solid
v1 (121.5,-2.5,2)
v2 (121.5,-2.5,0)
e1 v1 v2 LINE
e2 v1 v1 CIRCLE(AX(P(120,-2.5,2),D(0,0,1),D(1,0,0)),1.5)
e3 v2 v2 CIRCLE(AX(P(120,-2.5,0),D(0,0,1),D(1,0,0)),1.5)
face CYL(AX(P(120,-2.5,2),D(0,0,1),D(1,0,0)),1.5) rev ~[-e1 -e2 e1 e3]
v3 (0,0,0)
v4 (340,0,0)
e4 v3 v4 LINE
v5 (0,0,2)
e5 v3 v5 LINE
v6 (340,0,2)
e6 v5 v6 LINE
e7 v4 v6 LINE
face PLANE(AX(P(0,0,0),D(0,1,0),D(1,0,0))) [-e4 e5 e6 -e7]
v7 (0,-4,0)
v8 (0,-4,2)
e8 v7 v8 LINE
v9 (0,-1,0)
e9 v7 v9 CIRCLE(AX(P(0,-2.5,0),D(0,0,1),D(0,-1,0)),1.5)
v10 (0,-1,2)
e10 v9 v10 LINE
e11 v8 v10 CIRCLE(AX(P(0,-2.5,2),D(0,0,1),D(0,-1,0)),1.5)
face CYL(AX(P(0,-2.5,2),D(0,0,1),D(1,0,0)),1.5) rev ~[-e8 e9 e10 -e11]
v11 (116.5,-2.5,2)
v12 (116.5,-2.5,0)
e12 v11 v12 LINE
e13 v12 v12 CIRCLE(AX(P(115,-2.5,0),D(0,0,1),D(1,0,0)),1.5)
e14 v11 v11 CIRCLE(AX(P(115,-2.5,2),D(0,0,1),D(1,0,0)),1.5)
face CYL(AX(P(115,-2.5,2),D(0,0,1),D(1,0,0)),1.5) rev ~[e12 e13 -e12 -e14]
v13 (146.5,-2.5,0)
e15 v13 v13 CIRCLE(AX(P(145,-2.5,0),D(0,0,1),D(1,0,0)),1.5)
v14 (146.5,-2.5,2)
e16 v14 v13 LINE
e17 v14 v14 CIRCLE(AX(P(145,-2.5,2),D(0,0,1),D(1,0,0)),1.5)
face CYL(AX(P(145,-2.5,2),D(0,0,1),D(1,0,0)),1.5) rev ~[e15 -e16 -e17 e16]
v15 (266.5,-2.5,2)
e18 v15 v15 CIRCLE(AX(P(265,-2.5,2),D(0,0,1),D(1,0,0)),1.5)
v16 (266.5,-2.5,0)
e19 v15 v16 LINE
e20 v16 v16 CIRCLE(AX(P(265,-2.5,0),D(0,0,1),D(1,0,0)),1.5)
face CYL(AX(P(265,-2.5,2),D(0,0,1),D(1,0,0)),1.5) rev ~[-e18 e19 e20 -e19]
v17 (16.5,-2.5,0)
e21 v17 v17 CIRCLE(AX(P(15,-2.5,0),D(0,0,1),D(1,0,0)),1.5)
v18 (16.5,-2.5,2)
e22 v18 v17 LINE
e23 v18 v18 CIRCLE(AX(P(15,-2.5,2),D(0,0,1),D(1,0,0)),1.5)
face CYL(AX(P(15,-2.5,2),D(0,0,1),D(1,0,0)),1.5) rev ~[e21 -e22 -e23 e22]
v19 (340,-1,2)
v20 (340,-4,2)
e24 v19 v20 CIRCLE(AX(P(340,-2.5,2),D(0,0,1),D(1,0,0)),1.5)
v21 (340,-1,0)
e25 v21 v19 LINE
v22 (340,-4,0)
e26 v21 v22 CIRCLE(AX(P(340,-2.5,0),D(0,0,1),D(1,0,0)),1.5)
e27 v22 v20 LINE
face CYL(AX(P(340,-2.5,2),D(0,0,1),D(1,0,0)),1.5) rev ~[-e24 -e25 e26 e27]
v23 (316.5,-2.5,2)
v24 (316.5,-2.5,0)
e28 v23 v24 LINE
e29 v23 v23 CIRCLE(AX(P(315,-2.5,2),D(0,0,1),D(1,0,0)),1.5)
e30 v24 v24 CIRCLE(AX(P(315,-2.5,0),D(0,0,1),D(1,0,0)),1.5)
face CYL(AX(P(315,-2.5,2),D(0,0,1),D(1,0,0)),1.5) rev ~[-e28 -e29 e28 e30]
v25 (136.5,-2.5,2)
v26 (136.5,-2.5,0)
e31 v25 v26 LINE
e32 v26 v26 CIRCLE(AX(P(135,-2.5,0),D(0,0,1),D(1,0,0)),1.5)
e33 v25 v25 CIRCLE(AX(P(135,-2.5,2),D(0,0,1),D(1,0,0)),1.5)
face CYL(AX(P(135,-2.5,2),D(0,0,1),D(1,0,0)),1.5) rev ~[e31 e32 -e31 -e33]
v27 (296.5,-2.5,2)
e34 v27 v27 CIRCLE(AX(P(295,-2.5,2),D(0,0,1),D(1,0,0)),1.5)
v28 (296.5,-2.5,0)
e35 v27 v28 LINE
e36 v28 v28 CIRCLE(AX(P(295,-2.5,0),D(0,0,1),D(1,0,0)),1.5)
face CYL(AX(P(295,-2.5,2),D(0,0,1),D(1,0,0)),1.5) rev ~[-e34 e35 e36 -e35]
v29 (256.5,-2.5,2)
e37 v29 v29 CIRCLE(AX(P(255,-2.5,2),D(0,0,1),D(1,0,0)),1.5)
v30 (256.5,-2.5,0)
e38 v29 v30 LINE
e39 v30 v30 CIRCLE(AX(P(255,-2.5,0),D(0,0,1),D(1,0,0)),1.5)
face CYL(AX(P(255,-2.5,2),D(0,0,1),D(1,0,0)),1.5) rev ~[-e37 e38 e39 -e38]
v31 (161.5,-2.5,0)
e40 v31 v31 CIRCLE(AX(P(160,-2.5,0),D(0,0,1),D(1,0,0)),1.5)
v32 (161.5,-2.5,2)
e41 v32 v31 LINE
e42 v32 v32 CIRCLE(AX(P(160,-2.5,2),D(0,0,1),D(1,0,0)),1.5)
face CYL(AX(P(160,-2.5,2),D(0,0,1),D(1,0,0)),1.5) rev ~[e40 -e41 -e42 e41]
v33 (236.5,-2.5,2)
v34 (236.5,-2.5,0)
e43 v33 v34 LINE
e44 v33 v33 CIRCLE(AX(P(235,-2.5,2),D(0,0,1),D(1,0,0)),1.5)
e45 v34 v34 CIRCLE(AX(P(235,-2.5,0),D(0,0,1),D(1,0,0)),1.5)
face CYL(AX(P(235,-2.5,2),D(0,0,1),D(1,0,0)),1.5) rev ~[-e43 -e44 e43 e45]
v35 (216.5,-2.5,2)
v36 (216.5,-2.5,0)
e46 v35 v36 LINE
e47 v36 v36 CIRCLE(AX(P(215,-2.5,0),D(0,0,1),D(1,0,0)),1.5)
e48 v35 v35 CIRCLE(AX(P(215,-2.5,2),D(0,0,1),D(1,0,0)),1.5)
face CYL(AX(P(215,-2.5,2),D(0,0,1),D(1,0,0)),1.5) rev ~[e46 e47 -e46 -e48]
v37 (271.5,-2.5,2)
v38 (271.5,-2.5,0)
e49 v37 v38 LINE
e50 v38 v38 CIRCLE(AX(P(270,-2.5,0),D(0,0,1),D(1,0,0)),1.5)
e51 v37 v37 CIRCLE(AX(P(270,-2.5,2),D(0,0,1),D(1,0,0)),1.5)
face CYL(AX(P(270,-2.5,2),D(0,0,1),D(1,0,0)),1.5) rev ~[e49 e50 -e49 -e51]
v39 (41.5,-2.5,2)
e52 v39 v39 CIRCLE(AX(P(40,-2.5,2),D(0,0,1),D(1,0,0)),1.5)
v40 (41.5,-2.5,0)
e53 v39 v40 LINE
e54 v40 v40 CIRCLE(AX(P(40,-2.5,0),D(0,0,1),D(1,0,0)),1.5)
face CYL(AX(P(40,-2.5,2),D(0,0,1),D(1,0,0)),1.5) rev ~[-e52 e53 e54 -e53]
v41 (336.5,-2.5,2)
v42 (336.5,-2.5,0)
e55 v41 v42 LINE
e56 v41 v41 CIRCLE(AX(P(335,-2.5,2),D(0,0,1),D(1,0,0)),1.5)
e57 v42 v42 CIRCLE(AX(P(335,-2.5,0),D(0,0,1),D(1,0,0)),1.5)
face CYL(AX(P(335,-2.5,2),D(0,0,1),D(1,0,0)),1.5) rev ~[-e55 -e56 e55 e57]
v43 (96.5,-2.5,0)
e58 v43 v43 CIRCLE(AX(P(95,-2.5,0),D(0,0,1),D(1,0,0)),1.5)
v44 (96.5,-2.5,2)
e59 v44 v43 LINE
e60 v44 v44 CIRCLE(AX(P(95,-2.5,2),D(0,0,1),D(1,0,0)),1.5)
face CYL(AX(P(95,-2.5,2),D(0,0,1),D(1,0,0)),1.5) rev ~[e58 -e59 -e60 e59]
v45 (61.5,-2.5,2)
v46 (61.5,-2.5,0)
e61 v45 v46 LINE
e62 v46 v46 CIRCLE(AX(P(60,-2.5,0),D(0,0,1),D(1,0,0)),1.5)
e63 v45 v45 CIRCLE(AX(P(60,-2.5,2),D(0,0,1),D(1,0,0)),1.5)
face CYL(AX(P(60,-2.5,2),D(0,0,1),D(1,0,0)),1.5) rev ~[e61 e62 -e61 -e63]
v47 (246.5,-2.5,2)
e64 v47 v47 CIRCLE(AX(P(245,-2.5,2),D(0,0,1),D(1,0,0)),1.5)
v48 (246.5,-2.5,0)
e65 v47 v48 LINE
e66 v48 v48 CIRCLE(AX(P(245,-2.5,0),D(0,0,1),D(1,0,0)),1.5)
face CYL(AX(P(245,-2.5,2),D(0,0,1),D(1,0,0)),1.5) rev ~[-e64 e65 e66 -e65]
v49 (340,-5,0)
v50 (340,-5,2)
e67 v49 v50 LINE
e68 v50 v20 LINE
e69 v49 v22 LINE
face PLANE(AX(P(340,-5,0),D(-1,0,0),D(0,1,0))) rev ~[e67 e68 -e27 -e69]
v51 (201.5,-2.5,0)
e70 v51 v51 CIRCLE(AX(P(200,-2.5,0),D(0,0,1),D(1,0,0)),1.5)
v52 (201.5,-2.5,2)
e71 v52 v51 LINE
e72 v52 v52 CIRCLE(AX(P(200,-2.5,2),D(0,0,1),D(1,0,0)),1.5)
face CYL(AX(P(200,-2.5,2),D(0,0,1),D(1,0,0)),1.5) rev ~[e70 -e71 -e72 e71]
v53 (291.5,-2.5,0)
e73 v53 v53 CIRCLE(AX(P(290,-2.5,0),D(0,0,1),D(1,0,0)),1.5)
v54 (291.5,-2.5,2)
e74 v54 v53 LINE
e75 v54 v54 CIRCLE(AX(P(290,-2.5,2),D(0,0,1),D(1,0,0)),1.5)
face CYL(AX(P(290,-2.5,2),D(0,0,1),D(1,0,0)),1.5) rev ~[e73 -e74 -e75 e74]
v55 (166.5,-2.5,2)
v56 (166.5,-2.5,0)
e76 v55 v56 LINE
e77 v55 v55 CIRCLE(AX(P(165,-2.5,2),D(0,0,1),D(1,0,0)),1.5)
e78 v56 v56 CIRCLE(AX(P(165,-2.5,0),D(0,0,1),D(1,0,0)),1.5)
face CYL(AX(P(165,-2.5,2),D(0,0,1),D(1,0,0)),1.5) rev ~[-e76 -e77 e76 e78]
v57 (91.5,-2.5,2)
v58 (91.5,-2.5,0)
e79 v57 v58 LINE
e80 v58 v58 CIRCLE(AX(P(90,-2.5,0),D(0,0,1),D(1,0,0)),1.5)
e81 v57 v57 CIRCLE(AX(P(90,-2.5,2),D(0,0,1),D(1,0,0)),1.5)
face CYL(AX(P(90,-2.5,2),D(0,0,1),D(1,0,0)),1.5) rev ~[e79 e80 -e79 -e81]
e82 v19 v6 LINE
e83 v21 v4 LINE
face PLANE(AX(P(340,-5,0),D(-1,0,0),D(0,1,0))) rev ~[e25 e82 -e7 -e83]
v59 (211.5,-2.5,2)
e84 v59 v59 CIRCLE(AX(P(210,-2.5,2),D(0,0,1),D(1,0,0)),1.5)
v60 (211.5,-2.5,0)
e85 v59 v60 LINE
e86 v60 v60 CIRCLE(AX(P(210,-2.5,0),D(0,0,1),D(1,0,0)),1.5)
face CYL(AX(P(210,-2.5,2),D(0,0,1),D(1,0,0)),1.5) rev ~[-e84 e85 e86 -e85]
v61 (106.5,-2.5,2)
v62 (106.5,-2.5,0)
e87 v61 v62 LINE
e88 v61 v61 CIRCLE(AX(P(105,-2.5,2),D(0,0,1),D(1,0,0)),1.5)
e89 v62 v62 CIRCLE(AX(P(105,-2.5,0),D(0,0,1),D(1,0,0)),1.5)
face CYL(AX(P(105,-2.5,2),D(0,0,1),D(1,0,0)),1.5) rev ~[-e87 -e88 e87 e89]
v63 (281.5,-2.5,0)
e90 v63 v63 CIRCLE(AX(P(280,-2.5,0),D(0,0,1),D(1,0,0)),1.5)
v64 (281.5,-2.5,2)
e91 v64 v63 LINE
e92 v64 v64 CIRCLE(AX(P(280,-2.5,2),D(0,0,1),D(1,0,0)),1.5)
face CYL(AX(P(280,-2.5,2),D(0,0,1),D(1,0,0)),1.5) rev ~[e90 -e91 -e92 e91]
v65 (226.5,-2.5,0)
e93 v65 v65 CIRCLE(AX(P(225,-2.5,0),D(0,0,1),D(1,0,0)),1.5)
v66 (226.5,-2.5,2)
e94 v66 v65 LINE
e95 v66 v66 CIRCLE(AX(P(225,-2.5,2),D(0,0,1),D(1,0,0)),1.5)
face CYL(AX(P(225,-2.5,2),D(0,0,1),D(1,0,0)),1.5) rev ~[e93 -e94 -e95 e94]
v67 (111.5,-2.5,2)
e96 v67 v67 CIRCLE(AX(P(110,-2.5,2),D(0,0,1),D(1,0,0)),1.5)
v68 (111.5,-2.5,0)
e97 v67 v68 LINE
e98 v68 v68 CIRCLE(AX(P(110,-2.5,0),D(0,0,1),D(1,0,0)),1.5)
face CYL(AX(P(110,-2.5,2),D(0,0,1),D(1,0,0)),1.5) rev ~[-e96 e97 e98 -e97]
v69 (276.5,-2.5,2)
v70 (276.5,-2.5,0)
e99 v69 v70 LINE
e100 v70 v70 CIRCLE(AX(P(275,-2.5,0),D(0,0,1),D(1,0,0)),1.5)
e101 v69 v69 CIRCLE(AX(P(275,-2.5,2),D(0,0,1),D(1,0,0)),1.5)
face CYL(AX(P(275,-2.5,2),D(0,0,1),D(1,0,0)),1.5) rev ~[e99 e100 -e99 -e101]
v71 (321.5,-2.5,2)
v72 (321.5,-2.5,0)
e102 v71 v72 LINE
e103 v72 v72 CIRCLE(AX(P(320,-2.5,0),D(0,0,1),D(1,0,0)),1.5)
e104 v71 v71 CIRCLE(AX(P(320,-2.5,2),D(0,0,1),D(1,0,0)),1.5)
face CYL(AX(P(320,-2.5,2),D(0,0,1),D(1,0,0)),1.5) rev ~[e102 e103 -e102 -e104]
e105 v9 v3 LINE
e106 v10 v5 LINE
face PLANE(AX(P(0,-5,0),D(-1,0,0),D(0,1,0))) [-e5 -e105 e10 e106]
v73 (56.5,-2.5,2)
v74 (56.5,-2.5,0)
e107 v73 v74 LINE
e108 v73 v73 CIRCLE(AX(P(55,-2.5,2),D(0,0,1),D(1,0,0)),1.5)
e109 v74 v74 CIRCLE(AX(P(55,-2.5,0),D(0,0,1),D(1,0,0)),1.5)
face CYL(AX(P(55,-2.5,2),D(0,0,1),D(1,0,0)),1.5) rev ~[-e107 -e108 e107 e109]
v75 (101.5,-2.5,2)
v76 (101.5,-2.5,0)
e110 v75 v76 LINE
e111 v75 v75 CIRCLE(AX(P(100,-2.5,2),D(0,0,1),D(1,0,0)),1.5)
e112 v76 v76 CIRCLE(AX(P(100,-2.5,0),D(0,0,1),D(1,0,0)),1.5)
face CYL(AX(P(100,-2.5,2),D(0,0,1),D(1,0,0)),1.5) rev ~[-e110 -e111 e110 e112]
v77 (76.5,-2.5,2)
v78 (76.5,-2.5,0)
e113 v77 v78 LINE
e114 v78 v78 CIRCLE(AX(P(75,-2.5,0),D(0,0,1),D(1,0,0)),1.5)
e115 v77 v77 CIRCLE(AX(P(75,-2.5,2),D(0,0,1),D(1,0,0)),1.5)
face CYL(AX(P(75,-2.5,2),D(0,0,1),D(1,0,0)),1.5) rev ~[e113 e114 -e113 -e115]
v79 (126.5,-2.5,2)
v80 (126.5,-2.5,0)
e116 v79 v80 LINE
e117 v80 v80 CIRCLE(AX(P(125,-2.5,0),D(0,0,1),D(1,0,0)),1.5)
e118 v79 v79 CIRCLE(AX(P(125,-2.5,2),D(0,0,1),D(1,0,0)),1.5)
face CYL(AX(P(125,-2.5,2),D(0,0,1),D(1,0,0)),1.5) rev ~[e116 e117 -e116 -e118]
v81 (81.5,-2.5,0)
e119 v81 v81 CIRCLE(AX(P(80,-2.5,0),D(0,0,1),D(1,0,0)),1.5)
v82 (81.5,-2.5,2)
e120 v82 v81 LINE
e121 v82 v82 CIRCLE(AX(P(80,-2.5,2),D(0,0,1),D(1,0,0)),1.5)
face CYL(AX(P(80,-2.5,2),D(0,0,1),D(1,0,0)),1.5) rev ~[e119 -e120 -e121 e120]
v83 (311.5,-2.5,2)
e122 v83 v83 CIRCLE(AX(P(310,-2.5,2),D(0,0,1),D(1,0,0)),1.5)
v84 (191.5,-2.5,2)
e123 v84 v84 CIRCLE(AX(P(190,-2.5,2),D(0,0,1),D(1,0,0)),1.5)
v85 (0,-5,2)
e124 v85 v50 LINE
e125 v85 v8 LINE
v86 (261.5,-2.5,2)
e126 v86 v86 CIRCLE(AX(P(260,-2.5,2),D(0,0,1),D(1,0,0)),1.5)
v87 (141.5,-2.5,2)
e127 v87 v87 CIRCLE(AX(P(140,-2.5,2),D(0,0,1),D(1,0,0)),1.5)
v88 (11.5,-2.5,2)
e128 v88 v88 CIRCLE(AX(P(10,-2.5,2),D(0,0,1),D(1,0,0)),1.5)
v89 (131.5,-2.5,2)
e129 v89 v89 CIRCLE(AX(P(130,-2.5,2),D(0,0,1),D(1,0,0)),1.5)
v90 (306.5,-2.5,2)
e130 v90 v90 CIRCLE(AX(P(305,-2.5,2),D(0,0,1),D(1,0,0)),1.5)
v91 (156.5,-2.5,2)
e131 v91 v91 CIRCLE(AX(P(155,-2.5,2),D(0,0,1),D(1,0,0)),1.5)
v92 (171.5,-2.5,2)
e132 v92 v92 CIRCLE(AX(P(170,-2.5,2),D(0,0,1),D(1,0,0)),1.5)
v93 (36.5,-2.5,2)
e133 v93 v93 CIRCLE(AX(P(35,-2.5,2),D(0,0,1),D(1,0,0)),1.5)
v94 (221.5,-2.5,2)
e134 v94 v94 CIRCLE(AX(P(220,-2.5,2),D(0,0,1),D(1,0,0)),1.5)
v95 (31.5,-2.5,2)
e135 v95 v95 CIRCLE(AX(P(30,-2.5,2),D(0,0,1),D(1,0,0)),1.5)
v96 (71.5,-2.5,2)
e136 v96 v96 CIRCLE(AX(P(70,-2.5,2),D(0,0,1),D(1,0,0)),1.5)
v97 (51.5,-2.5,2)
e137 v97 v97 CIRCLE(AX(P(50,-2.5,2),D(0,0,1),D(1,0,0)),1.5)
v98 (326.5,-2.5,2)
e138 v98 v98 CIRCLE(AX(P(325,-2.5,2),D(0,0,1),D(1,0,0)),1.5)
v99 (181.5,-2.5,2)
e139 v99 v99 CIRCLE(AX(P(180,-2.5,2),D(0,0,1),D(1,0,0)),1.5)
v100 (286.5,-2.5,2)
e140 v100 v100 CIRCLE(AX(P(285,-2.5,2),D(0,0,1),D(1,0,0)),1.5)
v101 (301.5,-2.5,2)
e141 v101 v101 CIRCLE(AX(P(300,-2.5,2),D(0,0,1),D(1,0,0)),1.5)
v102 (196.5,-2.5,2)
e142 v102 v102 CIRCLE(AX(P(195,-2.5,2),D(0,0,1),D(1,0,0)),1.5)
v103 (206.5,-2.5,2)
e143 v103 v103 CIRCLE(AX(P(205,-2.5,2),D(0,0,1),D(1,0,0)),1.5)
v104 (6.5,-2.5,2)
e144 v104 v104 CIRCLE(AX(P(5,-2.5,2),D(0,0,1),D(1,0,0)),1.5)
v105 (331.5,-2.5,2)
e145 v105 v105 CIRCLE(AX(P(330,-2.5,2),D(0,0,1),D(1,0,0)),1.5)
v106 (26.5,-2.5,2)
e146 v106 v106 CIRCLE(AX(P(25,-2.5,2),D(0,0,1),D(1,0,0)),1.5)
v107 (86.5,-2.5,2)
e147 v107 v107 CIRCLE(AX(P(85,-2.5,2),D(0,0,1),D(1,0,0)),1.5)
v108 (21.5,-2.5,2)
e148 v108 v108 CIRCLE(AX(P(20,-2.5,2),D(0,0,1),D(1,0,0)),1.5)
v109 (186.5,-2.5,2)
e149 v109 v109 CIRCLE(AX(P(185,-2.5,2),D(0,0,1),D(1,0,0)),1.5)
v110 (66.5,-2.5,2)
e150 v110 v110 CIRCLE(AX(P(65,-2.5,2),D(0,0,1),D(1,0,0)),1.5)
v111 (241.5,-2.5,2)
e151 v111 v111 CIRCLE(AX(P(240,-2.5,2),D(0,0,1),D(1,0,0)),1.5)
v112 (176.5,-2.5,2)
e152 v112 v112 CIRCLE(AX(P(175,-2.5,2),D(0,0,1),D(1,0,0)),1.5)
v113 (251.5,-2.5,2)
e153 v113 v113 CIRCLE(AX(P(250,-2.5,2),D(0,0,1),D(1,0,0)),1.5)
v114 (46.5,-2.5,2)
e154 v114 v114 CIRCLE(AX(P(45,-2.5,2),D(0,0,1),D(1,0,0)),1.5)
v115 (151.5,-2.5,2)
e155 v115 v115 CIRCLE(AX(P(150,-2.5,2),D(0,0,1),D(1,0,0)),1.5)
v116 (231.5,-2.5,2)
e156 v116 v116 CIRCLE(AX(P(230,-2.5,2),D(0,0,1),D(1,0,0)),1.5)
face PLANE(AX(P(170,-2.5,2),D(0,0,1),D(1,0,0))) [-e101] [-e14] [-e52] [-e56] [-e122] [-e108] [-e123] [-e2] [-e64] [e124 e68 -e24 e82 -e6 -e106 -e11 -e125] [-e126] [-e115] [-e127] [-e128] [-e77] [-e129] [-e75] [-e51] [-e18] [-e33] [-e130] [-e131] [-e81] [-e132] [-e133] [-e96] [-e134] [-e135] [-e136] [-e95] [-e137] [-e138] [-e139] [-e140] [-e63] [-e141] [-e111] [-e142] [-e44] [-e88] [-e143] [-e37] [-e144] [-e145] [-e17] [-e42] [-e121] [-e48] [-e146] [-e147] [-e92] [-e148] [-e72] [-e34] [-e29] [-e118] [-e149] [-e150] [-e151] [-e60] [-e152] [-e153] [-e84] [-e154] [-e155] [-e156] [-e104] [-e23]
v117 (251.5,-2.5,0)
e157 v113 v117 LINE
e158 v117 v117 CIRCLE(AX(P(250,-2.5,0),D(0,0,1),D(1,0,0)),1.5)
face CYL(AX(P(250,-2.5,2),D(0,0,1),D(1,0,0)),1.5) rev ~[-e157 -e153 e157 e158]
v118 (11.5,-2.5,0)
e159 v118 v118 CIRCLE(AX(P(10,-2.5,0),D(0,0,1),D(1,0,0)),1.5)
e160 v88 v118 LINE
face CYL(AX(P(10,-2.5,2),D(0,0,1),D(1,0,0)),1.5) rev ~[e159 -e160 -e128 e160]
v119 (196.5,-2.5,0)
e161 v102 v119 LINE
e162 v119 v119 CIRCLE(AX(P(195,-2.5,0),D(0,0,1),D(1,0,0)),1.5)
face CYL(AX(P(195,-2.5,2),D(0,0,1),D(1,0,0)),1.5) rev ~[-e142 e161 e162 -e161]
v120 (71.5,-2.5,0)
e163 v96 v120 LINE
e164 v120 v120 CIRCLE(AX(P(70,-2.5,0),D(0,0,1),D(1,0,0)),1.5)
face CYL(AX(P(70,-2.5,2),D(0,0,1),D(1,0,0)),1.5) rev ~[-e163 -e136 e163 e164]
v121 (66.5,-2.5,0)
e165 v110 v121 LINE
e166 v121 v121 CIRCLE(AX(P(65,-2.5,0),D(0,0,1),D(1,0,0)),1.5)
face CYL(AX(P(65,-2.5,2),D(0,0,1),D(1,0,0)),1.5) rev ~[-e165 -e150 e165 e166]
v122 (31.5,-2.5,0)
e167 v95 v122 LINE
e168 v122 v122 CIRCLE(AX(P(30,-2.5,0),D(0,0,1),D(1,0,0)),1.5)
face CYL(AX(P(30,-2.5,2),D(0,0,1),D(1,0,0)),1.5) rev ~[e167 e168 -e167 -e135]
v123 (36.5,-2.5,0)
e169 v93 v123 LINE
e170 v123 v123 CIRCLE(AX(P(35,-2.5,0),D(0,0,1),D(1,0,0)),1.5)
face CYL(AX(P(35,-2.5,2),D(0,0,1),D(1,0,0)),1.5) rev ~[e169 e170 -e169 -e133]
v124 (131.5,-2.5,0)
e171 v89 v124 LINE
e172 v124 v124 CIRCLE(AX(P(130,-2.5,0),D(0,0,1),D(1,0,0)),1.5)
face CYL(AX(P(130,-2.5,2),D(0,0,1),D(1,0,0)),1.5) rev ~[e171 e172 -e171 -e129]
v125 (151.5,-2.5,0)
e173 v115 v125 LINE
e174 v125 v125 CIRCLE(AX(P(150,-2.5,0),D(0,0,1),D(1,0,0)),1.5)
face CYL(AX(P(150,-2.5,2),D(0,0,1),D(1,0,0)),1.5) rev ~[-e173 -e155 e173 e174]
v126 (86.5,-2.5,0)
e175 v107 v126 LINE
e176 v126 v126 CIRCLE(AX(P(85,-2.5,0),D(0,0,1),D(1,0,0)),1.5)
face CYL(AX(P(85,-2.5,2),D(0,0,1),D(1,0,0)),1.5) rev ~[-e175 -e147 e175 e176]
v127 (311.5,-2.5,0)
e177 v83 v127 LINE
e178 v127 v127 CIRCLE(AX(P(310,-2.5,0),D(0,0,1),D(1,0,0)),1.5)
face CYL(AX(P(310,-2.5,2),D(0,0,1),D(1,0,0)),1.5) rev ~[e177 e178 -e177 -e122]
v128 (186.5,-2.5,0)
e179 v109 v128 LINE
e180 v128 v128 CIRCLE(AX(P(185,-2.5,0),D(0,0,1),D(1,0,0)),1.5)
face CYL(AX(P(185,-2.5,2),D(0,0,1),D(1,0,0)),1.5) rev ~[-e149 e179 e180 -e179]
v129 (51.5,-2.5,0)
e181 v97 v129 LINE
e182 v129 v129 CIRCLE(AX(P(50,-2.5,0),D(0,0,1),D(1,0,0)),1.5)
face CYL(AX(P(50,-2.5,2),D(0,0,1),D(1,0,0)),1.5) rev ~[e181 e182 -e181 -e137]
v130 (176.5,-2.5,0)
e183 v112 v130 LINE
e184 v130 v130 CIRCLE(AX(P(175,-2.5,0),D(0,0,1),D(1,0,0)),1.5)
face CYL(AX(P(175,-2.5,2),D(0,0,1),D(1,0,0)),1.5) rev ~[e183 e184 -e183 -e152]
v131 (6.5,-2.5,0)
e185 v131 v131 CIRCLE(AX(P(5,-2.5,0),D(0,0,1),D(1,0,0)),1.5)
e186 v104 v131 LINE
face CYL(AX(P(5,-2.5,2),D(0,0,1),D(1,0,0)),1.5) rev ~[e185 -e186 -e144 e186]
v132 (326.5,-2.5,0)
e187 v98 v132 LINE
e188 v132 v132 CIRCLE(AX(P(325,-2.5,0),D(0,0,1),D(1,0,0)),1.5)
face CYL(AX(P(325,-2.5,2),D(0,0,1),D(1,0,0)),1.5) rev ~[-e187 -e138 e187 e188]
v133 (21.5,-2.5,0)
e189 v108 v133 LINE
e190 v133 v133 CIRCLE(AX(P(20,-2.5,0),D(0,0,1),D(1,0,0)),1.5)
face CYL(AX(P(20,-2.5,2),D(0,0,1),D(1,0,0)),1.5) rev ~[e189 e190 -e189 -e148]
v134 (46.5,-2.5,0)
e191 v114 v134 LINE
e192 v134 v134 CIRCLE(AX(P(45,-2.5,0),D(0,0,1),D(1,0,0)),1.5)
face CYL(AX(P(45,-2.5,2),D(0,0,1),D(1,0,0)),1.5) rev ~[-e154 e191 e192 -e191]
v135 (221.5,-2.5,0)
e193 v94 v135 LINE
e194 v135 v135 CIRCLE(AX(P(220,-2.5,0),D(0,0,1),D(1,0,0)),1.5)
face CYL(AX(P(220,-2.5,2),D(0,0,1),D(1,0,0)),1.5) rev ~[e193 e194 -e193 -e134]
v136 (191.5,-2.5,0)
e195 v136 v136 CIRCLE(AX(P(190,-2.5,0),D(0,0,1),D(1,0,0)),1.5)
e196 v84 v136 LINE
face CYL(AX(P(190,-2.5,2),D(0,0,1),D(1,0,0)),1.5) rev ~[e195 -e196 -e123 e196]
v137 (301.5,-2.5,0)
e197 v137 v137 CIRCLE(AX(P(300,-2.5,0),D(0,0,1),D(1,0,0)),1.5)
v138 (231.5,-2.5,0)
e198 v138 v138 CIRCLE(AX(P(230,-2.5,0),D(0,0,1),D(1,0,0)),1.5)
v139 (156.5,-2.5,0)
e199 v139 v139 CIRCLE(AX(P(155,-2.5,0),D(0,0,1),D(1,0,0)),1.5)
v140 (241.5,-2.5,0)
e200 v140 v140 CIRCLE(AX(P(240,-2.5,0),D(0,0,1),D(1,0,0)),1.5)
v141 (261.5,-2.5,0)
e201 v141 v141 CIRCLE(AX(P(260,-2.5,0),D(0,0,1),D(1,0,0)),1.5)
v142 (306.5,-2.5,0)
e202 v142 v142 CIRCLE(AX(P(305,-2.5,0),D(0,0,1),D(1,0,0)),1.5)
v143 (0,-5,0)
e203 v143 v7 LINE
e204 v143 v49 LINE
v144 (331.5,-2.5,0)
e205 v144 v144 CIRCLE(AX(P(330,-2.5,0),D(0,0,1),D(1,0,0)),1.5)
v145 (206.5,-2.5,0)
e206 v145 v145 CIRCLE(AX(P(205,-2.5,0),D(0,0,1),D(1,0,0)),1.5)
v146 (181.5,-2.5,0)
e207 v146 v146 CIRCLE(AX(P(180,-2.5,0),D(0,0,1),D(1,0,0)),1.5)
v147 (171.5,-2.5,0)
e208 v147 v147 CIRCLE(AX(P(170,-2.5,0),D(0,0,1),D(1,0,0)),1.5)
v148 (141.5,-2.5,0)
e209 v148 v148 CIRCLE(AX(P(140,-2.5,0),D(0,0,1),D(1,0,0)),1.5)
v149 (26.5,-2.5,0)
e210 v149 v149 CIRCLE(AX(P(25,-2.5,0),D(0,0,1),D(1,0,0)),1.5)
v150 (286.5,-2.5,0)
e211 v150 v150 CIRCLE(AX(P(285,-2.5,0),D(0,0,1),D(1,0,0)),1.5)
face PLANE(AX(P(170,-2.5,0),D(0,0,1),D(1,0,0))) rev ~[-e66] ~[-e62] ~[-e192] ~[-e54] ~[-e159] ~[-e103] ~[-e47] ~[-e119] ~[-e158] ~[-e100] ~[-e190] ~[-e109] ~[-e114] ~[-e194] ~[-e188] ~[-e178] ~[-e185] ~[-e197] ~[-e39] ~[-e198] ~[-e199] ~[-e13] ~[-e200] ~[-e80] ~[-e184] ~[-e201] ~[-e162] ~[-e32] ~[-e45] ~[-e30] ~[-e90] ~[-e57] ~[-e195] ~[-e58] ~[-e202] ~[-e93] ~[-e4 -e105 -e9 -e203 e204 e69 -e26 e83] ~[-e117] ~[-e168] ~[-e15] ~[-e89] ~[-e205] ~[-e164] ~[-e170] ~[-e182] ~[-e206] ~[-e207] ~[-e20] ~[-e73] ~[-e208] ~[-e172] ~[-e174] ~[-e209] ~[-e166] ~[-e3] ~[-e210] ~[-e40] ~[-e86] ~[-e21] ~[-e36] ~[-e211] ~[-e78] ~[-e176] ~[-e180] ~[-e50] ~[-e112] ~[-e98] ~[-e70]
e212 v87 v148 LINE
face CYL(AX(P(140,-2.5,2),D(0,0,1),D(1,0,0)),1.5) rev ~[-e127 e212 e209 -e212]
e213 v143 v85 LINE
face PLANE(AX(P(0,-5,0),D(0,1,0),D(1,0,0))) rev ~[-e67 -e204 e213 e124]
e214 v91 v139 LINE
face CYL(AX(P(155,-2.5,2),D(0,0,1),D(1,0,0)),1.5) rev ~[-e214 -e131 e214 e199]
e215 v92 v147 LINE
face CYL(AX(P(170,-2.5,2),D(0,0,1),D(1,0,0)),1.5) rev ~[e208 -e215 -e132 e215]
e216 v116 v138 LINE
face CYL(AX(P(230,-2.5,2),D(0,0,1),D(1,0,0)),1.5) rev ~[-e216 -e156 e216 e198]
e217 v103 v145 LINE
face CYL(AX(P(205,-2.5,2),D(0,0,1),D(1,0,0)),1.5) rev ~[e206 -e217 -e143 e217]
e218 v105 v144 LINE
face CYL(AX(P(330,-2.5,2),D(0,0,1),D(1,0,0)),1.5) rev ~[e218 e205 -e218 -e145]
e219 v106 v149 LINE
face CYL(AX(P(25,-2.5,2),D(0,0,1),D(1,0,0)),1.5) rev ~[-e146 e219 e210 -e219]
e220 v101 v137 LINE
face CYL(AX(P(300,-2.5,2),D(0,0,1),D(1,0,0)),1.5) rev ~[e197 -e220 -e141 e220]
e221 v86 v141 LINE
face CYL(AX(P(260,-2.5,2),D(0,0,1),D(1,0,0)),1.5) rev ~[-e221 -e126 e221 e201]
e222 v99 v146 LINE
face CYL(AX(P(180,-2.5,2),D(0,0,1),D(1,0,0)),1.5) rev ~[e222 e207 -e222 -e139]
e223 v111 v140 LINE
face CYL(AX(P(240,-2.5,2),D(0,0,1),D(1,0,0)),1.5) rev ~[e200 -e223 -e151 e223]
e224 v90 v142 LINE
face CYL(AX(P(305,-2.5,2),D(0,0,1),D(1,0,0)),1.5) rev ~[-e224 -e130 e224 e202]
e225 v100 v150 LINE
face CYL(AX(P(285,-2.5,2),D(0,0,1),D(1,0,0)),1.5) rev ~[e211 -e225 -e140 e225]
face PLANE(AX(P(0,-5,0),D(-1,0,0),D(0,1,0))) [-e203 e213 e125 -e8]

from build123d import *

# Parameters (mm, degrees)
SKETCH_1_W             = 340
SKETCH_1_H             = 5
EXTRUDE_1_DEPTH        = 2
SKETCH_2_R             = 1.5
CUT_EXTRUDE_1_DEPTH    = 341.042644384
PATTERN_LINEAR_1_COUNT = 35
PATTERN_LINEAR_1_PITCH = 5
PATTERN_LINEAR_2_COUNT = 35
PATTERN_LINEAR_2_PITCH = 5


with BuildPart() as part:
    # 草图1 → 凸台-拉伸1 (new body)
    with BuildSketch(Plane.XY):
        with Locations((170, -2.5)):
            Rectangle(SKETCH_1_W, SKETCH_1_H)
    extrude(amount=EXTRUDE_1_DEPTH)

    # 草图2 → 切除-拉伸1 (cut, through all)
    with BuildSketch(Plane.XY.offset(2)):
        with Locations((170, -2.5)):
            Circle(SKETCH_2_R)
    cut_extrude_1 = extrude(amount=-CUT_EXTRUDE_1_DEPTH, mode=Mode.SUBTRACT)

    # 阵列(线性)1: 切除-拉伸1 ×35
    with Locations(*[(i * PATTERN_LINEAR_1_PITCH, 0, 0) for i in range(1, PATTERN_LINEAR_1_COUNT)]):
        add(cut_extrude_1, mode=Mode.SUBTRACT)

    # 阵列(线性)2: 切除-拉伸1 ×35
    with Locations(*[(-i * PATTERN_LINEAR_2_PITCH, 0, 0) for i in range(1, PATTERN_LINEAR_2_COUNT)]):
        add(cut_extrude_1, mode=Mode.SUBTRACT)


solid = part.part
